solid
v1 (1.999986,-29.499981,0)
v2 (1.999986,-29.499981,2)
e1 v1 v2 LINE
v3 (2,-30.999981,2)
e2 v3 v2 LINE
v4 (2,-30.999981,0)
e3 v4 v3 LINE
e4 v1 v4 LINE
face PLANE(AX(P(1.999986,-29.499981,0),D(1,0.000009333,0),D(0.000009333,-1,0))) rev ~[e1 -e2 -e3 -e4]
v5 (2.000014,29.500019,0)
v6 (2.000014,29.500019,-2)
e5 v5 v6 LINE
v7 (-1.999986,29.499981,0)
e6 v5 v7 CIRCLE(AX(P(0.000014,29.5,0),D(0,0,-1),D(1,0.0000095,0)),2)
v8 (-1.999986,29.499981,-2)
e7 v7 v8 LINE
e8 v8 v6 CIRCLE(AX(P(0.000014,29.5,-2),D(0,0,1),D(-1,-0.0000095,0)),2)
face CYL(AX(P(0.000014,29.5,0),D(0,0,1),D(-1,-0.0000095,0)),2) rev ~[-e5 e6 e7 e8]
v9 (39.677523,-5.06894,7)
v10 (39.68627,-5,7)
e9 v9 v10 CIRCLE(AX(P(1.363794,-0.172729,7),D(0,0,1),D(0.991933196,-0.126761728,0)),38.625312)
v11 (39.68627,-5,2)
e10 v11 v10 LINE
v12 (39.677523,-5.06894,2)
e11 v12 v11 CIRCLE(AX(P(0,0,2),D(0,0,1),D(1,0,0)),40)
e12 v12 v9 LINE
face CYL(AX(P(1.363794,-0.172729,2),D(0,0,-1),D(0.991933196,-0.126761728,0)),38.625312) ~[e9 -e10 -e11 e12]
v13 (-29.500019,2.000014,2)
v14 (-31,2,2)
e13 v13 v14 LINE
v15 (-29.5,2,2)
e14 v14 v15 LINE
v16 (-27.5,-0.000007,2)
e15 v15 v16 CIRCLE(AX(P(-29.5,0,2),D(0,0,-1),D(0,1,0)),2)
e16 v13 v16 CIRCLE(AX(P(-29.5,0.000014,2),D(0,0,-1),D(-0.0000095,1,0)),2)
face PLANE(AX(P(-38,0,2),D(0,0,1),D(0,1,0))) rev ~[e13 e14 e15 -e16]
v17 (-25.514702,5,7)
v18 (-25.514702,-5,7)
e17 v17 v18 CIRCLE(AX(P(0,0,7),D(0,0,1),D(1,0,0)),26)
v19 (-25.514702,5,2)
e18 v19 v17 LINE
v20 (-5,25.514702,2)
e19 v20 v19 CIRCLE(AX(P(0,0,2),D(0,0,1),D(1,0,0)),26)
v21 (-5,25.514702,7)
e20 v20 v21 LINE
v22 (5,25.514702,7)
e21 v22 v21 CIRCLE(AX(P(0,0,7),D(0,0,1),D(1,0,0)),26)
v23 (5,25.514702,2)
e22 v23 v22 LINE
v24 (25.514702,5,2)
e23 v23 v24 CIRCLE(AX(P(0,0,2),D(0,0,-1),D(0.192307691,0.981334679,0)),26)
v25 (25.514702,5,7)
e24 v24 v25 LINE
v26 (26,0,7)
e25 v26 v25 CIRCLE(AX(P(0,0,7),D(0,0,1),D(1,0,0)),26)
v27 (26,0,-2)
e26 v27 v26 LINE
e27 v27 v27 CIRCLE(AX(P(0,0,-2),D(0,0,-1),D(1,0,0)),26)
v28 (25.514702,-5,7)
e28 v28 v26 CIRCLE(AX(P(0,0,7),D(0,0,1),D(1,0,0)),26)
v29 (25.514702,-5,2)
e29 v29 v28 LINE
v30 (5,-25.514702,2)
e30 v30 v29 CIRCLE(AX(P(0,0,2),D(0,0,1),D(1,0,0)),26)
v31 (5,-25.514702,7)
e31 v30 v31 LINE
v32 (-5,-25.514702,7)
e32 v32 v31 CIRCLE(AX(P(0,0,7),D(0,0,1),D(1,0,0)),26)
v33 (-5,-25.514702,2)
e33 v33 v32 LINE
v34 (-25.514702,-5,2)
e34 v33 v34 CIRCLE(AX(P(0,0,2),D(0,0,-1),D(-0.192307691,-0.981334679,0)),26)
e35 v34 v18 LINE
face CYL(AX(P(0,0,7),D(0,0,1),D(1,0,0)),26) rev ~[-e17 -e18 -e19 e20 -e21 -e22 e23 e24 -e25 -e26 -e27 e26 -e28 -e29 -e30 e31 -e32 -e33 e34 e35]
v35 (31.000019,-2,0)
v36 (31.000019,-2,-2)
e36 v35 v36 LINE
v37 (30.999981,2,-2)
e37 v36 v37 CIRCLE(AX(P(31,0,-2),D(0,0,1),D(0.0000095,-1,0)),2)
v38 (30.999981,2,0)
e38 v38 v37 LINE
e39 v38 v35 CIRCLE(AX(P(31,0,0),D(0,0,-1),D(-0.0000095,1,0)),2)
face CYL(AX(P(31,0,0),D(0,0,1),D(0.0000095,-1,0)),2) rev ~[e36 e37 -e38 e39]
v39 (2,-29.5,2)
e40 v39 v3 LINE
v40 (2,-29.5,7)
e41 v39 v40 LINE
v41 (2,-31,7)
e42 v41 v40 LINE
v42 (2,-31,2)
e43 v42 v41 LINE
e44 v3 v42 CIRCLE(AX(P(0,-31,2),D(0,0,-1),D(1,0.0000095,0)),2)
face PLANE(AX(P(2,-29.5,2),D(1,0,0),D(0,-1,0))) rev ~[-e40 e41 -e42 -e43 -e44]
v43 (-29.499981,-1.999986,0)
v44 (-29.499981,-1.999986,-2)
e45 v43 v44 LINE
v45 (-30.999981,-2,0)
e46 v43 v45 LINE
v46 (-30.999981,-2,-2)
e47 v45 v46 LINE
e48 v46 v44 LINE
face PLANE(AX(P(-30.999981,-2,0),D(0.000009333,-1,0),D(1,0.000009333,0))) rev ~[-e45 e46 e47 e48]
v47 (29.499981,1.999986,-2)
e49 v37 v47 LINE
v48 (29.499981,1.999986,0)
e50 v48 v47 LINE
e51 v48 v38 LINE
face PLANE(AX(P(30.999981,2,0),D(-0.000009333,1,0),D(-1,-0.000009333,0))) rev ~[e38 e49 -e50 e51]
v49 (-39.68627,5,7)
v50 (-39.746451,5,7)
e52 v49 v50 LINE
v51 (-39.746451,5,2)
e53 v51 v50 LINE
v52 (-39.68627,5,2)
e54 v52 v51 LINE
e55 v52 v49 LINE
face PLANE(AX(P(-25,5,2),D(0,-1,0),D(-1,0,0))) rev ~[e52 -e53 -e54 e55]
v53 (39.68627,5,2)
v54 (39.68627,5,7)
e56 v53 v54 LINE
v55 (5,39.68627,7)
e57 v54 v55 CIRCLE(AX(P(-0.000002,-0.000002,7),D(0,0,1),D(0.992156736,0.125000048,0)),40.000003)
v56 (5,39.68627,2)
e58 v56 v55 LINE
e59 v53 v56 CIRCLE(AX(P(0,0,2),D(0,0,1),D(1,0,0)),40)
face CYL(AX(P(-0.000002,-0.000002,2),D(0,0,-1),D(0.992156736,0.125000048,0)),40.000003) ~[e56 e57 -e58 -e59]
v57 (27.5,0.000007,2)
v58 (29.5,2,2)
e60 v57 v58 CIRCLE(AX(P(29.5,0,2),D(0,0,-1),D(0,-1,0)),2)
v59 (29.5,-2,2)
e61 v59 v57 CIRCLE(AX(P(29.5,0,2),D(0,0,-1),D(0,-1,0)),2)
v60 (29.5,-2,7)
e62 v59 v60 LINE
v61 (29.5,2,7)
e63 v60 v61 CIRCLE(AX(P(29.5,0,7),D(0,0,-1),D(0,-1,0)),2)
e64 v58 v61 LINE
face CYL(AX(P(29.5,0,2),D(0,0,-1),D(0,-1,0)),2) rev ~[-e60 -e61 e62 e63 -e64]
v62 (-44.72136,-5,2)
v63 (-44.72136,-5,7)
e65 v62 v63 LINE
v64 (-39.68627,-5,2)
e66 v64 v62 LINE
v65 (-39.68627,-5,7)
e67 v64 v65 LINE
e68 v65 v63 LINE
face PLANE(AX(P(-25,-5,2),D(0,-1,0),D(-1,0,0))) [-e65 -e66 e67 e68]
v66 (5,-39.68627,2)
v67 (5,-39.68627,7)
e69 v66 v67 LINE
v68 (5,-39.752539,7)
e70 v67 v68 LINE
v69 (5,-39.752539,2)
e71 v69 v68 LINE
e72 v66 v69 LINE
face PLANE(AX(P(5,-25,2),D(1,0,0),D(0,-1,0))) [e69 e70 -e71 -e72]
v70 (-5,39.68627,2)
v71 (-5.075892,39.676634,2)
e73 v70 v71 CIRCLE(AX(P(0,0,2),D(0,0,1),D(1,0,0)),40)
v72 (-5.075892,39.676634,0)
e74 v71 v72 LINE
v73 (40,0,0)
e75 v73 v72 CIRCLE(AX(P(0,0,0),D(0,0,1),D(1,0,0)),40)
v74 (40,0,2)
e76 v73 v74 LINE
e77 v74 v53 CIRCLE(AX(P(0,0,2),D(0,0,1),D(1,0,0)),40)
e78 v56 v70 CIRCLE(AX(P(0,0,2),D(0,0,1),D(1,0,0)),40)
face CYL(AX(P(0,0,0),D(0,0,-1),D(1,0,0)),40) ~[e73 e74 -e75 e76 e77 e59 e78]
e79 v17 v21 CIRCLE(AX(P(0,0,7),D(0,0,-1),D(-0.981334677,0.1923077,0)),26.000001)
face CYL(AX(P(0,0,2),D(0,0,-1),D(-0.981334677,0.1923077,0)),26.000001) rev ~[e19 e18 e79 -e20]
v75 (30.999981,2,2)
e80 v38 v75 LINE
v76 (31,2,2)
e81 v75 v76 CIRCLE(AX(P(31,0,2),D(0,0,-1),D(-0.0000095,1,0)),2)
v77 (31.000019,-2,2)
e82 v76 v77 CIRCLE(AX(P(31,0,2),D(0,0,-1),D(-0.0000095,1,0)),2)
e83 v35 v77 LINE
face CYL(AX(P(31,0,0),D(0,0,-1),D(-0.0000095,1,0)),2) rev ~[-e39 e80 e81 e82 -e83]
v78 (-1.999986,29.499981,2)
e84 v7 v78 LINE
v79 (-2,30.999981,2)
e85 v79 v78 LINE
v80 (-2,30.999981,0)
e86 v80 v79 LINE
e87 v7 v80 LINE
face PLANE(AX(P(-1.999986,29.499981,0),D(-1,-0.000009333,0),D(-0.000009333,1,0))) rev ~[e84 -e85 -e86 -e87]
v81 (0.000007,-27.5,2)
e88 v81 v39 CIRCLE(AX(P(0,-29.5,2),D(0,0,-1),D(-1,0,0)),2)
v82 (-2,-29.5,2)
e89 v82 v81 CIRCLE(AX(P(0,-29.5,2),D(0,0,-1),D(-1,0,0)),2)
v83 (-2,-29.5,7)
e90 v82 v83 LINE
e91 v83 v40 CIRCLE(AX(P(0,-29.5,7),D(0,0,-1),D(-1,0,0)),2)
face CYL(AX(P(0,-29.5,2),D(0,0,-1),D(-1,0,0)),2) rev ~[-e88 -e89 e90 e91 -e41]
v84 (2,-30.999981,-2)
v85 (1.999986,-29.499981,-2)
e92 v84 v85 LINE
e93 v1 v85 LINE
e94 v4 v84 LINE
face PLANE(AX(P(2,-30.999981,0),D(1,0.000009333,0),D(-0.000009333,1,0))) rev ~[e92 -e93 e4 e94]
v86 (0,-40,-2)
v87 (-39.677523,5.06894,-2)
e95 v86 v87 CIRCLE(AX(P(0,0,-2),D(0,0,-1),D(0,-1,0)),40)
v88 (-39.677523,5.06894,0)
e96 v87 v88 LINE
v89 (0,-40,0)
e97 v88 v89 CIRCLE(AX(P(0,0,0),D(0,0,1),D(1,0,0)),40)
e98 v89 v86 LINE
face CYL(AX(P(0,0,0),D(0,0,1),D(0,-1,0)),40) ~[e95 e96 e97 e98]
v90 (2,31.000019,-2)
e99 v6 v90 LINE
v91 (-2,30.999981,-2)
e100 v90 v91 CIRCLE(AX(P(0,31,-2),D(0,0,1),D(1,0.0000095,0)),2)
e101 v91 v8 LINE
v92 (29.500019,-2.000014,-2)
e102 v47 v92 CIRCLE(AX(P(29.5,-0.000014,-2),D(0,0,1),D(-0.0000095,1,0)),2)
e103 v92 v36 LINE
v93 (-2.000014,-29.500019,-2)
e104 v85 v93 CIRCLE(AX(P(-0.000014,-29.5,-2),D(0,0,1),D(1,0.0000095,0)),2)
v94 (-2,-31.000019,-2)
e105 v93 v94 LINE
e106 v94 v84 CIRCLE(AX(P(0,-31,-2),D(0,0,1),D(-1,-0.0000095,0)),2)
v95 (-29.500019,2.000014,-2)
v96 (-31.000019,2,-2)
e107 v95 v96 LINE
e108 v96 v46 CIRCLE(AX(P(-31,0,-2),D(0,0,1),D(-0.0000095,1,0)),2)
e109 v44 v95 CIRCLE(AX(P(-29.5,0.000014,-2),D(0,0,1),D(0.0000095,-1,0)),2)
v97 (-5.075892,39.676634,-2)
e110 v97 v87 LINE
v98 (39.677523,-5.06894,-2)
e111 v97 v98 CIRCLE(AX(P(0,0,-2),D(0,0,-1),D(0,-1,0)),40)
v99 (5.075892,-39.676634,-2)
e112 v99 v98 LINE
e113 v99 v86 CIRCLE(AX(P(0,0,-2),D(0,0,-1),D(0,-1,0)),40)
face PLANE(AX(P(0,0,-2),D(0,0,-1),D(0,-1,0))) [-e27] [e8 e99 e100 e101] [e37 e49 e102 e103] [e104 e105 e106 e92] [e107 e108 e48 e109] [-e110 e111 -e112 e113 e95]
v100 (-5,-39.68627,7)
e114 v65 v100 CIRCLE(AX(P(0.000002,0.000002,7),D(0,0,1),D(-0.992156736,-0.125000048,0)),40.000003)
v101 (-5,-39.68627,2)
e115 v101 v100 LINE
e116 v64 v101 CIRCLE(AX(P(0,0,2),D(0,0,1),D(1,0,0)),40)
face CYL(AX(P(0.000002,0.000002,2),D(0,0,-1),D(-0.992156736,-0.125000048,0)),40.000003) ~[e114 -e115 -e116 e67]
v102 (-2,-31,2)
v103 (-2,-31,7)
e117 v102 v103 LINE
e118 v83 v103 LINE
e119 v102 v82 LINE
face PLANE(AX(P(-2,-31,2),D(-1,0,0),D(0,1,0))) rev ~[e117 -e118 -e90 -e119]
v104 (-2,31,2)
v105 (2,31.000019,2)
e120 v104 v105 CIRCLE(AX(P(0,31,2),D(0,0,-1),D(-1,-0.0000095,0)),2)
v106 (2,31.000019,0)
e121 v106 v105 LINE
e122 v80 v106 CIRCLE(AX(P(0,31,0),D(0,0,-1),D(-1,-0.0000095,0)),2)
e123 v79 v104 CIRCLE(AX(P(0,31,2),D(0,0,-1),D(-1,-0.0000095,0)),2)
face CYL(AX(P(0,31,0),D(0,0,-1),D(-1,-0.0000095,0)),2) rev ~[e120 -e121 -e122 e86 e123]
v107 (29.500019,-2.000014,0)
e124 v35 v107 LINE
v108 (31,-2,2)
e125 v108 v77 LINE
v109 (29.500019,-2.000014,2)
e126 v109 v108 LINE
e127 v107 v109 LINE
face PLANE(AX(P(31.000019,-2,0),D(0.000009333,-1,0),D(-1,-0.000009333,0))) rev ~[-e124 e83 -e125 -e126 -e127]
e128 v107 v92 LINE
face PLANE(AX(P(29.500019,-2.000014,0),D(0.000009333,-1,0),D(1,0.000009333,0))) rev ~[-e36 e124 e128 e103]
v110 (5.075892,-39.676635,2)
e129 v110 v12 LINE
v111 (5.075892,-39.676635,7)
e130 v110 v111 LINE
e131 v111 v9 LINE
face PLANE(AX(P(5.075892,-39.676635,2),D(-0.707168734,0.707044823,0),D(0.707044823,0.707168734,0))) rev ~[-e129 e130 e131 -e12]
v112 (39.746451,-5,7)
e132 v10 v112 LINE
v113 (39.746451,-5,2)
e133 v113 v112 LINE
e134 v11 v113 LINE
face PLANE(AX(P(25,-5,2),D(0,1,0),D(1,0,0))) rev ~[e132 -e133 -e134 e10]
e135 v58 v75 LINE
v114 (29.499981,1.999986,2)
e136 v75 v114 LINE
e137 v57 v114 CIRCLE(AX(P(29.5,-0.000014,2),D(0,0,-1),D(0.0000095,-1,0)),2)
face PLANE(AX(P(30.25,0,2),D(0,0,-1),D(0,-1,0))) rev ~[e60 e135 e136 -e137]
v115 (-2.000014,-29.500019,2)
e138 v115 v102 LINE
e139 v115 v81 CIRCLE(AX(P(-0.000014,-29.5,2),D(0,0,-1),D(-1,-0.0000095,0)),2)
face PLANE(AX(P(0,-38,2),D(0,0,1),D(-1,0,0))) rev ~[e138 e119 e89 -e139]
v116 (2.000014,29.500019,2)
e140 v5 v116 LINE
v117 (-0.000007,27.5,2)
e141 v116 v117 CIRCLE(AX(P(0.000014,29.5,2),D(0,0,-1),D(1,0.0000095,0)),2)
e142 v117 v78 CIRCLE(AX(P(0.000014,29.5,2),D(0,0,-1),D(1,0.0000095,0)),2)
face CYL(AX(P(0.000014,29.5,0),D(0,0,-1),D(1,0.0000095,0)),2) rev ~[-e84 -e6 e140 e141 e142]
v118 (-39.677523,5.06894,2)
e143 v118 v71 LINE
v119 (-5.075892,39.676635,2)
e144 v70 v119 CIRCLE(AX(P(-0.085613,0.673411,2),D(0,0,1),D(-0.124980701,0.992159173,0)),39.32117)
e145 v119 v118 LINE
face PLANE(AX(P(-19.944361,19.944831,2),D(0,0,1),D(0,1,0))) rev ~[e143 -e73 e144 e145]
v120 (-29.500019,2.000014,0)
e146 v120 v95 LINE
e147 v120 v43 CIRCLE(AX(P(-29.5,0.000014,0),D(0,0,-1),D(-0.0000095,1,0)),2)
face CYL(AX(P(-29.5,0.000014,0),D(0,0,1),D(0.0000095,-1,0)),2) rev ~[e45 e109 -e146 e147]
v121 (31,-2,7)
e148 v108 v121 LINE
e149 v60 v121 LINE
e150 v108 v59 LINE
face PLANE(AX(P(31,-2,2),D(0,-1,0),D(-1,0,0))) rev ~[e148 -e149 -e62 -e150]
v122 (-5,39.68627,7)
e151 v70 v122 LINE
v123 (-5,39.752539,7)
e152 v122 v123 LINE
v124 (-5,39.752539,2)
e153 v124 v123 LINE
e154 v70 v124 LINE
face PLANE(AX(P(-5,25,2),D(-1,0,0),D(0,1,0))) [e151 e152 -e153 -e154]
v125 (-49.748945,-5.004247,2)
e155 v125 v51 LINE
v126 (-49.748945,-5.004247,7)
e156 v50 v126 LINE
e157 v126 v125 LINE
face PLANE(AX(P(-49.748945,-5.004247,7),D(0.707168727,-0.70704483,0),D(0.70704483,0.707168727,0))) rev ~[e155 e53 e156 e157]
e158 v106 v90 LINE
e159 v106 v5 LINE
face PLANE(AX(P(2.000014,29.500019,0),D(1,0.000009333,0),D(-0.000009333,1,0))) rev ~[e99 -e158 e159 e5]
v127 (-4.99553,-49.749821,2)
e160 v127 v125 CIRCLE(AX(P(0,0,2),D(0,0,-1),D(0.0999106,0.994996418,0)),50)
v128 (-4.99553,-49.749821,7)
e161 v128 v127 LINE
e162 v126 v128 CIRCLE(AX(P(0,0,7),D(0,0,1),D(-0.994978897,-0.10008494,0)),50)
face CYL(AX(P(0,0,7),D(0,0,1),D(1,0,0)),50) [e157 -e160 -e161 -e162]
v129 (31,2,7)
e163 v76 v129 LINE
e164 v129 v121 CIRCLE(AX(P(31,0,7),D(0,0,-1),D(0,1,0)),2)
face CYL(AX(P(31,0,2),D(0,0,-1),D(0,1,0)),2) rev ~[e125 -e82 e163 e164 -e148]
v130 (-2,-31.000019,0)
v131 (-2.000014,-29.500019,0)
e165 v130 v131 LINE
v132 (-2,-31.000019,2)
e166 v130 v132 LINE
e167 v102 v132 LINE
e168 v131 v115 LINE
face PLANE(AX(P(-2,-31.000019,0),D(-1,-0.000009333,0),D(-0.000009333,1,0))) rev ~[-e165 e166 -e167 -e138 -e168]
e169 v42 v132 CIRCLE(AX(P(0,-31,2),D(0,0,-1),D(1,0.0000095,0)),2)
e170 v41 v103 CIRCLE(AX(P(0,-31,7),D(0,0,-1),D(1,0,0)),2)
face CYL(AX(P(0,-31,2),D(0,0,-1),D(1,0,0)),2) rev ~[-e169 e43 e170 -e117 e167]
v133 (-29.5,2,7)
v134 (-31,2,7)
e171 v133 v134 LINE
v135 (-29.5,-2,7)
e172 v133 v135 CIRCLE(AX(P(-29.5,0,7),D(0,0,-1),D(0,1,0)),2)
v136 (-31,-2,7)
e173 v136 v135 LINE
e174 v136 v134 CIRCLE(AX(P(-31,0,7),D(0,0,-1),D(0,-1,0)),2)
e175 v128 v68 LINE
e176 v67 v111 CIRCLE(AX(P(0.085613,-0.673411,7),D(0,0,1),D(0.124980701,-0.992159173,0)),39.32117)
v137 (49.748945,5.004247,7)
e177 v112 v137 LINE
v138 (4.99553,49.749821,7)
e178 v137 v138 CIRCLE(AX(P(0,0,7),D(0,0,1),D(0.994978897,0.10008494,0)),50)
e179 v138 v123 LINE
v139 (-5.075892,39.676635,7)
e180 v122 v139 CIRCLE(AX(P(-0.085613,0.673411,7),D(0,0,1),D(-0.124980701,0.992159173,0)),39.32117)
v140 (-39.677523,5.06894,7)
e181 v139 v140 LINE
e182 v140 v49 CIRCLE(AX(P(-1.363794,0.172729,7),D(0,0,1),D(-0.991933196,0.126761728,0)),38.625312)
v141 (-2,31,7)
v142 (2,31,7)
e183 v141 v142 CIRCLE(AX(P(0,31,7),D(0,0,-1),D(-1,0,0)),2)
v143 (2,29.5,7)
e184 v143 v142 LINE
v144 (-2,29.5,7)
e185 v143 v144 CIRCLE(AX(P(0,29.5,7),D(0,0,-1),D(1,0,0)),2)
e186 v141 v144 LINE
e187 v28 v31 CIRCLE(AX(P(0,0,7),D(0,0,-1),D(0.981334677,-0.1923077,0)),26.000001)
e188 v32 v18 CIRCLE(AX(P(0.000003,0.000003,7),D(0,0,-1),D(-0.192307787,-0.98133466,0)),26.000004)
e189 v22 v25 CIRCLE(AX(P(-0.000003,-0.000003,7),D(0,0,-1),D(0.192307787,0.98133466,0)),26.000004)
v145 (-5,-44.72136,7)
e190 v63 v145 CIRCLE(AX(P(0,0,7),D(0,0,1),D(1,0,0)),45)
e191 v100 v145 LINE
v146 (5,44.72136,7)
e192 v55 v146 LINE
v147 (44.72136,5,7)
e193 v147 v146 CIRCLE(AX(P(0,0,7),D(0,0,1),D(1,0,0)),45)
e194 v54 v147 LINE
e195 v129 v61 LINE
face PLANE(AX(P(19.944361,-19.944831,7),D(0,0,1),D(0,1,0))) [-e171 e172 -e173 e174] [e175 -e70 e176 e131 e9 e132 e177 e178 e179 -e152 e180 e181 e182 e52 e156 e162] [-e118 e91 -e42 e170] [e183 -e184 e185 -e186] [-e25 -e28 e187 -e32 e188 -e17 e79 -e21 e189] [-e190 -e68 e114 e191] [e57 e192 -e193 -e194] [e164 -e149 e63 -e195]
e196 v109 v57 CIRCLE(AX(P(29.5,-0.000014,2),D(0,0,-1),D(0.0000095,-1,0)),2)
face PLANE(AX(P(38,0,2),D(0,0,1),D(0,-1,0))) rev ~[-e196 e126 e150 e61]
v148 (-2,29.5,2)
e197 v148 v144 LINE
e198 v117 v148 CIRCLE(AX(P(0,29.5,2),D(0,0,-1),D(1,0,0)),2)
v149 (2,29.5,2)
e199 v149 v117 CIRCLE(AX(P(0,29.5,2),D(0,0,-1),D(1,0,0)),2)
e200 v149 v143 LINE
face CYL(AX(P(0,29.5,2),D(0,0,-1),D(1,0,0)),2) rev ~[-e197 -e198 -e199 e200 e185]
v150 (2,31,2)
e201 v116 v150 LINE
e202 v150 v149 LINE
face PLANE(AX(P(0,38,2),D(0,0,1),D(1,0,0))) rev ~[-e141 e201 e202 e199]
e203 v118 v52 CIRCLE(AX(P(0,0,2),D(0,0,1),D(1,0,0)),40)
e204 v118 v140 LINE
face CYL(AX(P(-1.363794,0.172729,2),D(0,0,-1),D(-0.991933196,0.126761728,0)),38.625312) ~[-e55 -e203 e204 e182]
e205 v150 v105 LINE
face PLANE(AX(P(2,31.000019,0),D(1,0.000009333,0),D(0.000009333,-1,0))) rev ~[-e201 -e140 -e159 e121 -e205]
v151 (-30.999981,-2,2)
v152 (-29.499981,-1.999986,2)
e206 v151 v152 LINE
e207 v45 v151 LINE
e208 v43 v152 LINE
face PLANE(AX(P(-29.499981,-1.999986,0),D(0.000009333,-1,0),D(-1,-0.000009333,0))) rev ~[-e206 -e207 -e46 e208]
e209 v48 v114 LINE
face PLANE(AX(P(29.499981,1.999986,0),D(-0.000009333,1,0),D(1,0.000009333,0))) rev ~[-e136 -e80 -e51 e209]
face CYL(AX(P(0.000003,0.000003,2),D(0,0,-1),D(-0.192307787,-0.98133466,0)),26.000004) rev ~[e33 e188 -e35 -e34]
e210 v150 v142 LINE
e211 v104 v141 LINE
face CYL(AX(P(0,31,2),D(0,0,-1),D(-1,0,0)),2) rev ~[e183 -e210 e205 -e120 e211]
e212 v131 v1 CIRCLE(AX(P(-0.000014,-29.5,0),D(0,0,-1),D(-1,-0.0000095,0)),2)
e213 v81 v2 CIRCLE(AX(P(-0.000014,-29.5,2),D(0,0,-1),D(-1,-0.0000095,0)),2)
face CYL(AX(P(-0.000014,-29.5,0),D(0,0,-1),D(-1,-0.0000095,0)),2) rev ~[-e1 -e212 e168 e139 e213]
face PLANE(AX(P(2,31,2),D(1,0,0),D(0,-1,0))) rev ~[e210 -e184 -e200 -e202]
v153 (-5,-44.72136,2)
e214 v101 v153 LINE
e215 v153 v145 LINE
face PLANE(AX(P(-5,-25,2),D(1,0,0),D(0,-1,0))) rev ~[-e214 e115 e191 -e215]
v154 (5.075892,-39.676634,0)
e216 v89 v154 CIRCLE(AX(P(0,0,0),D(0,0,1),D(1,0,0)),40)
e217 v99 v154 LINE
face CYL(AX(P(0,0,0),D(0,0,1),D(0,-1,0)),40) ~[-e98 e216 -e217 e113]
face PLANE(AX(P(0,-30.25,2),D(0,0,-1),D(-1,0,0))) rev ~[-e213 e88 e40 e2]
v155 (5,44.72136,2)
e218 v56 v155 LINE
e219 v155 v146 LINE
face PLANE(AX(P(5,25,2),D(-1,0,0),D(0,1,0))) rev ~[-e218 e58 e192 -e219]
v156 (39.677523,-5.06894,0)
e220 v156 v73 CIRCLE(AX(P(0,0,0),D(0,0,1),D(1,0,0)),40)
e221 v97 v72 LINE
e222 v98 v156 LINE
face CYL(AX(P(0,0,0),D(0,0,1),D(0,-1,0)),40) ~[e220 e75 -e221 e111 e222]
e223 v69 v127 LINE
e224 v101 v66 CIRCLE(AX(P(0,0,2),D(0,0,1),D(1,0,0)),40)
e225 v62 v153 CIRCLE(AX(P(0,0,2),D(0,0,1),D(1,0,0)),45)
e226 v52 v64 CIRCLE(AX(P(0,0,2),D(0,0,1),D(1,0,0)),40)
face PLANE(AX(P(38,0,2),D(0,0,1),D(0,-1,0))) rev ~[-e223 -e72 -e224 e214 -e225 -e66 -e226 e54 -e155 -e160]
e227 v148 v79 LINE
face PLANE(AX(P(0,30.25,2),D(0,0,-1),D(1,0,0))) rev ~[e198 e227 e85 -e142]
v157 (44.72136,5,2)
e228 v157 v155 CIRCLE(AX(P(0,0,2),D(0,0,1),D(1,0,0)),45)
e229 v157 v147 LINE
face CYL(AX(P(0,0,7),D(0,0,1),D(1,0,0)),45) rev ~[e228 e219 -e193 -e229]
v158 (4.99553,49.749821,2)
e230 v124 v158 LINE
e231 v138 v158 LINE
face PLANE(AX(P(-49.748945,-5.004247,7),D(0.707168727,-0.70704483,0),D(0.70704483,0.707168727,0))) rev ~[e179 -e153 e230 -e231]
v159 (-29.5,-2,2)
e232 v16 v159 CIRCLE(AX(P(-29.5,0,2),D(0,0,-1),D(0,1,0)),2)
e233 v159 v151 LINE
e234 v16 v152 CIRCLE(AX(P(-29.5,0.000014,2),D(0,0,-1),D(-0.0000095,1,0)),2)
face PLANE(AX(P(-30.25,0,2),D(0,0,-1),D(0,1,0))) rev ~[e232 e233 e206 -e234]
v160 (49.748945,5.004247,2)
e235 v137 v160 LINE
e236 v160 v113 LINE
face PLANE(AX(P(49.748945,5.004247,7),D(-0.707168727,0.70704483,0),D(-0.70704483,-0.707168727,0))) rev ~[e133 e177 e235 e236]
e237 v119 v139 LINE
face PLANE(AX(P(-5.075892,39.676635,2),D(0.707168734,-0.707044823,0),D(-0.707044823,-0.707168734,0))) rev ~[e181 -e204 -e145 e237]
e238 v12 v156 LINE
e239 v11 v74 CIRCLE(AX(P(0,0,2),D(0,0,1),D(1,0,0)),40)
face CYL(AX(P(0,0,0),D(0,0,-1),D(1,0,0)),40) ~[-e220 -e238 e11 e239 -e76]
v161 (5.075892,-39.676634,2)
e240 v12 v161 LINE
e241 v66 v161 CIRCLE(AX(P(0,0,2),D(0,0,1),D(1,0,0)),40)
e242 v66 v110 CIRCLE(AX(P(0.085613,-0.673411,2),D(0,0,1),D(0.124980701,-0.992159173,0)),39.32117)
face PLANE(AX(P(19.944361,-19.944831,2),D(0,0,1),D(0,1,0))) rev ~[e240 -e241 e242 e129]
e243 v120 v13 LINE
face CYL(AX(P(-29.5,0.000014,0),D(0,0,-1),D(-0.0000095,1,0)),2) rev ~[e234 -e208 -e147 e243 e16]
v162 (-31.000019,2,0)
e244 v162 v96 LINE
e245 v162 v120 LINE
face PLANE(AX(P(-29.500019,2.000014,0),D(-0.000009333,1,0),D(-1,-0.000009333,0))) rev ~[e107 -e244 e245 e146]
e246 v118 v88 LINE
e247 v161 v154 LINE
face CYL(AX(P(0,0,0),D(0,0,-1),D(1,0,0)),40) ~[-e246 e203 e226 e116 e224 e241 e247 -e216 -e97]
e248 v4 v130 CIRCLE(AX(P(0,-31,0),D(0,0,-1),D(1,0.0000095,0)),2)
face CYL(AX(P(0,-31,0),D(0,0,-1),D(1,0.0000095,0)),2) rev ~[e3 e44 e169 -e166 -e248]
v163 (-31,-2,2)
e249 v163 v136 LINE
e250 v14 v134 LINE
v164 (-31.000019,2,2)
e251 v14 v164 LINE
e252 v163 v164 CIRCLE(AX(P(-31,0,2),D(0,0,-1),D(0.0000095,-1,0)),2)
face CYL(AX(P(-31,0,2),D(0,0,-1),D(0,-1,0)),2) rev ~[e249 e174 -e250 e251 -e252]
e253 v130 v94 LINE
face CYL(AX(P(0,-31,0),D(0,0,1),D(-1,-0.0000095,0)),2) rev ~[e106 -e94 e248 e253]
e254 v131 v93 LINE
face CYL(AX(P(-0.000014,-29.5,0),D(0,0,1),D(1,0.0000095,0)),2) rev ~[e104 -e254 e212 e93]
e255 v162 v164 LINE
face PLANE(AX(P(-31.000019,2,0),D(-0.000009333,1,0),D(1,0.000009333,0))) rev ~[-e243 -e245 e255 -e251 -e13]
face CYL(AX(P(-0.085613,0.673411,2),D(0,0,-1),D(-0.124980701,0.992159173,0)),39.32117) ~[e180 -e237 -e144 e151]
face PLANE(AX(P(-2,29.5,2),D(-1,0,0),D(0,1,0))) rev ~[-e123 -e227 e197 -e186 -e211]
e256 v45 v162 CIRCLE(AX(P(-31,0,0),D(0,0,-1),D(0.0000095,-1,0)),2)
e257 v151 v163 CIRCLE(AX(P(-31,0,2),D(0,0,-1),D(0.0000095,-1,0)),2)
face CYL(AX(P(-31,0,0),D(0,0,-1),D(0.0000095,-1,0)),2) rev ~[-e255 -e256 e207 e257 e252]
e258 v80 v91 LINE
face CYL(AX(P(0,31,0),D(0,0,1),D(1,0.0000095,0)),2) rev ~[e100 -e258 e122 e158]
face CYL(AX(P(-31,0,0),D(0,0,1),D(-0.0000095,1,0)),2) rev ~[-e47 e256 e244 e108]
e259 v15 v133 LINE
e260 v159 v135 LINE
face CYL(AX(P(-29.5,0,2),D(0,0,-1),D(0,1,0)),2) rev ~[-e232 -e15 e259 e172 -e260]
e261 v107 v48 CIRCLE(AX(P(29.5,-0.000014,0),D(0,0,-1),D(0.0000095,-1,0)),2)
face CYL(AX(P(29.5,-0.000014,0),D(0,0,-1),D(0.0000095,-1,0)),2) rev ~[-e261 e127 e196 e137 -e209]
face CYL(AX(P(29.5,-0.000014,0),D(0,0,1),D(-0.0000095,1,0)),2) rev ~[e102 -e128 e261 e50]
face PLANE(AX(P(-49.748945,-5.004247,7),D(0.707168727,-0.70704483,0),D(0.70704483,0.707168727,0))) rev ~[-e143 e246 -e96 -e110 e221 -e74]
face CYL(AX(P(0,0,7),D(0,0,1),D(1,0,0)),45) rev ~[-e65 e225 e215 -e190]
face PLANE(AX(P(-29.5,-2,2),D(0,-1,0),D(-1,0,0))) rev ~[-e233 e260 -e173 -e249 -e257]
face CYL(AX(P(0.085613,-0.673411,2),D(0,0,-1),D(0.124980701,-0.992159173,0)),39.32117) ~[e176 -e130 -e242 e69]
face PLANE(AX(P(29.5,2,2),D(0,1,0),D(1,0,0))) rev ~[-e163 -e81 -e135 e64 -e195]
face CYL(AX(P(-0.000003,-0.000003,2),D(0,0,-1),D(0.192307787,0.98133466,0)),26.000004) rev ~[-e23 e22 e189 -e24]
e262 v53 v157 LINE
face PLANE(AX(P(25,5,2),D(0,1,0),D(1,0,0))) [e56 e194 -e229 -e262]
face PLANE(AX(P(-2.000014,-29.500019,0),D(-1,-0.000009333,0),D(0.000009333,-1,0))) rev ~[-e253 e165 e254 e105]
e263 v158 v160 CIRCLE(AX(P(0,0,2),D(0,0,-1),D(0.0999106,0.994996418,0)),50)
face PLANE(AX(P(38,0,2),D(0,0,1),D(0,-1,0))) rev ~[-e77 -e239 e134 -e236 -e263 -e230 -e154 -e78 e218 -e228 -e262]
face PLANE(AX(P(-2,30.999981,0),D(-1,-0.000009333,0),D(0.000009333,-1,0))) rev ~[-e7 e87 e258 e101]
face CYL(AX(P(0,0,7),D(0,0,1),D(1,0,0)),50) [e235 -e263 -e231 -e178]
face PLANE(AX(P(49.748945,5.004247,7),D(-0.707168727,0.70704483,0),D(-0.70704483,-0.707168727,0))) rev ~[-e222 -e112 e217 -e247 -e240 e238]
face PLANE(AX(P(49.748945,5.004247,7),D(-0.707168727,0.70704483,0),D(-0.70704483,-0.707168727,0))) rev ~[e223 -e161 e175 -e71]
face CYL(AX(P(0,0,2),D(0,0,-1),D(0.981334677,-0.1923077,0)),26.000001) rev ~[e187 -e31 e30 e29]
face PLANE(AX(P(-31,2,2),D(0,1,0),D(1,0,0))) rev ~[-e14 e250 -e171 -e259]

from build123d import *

# Parameters (mm, degrees)
SKETCH_R               = 40
PAD_DEPTH              = 2
SKETCH001_R            = 26
POCKET_DEPTH           = 5
POCKET001_DEPTH        = 5
POLARPATTERN_COUNT     = 4
POLARPATTERN_FACE2_R   = 40
POLARPATTERN_FACE2_R_2 = 26
PAD001_DEPTH           = 2
SKETCH003_W            = 10
SKETCH003_H            = 26
PAD002_DEPTH           = 5
POLARPATTERN001_COUNT  = 4
POCKET002_DEPTH        = 294.061547
POLARPATTERN002_COUNT  = 4
SKETCH005_R            = 26
POCKET003_DEPTH        = 9.001
SKETCH006_R            = 50
SKETCH006_R_2          = 45
PAD003_DEPTH           = 5
SKETCH007_R            = 86.673215
SKETCH007_R_2          = 50
POCKET004_DEPTH        = 9.001
POCKET005_DEPTH        = 292.41589
POLARPATTERN003_COUNT  = 2
PAD004_DEPTH           = 5
PAD005_DEPTH           = 5
PAD006_DEPTH           = 5
PAD007_DEPTH           = 5


with BuildPart() as part:
    # Sketch → Pad (new body)
    with BuildSketch(Plane.XY):
        Circle(SKETCH_R)
    extrude(amount=PAD_DEPTH)

    # Sketch001 (on Face3 of Pad) → Pocket (cut)
    with BuildSketch(Plane.XY.offset(2)):
        Circle(SKETCH001_R)
    extrude(amount=-POCKET_DEPTH, mode=Mode.SUBTRACT)

    # Sketch002 (on Face2 of Pocket) → Pocket001 (cut)
    with BuildSketch(Plane(origin=(0, 0, 0), x_dir=(1, 0, 0), z_dir=(0, 0, -1))):
        with BuildLine():
            ThreePointArc((2, 30.999981), (1.9e-05, 33), (-2, 31.000019))
            Line((-2, 31.000019), (-2.000014, 29.500019))
            ThreePointArc((-2.000014, 29.500019), (-3.4e-05, 27.5), (1.999986, 29.499981))
            Line((1.999986, 29.499981), (2, 30.999981))
        make_face()
    pocket001 = extrude(amount=-POCKET001_DEPTH, mode=Mode.SUBTRACT)

    # PolarPattern: Pocket001 ×4 about axis
    polarpattern_axis = Axis((0, 0, 0), (0, 0, -1))
    for i in range(1, POLARPATTERN_COUNT):
        add(pocket001.rotate(polarpattern_axis, i * 360 / POLARPATTERN_COUNT), mode=Mode.SUBTRACT)

    # PolarPattern Face2 → Pad001 (add)
    with BuildSketch(Plane(origin=(0, 0, 0), x_dir=(0, -1, 0), z_dir=(0, 0, -1))):
        Circle(POLARPATTERN_FACE2_R)
        with BuildLine():
            Line((30.999981, -2), (29.499981, -1.999986))
            ThreePointArc((29.499981, -1.999986), (27.5, 3.4e-05), (29.500019, 2.000014))
            Line((29.500019, 2.000014), (31.000019, 2))
            ThreePointArc((31.000019, 2), (33, -1.9e-05), (30.999981, -2))
        make_face(mode=Mode.SUBTRACT)
        with BuildLine():
            Line((-2, -30.999981), (-1.999986, -29.499981))
            ThreePointArc((-1.999986, -29.499981), (3.4e-05, -27.5), (2.000014, -29.500019))
            Line((2.000014, -29.500019), (2, -31.000019))
            ThreePointArc((2, -31.000019), (-1.9e-05, -33), (-2, -30.999981))
        make_face(mode=Mode.SUBTRACT)
        with BuildLine():
            Line((2, 30.999981), (1.999986, 29.499981))
            ThreePointArc((1.999986, 29.499981), (-3.4e-05, 27.5), (-2.000014, 29.500019))
            Line((-2.000014, 29.500019), (-2, 31.000019))
            ThreePointArc((-2, 31.000019), (1.9e-05, 33), (2, 30.999981))
        make_face(mode=Mode.SUBTRACT)
        Circle(POLARPATTERN_FACE2_R_2, mode=Mode.SUBTRACT)
        with BuildLine():
            Line((-30.999981, 2), (-29.499981, 1.999986))
            ThreePointArc((-29.499981, 1.999986), (-27.5, -3.4e-05), (-29.500019, -2.000014))
            Line((-29.500019, -2.000014), (-31.000019, -2))
            ThreePointArc((-31.000019, -2), (-33, 1.9e-05), (-30.999981, 2))
        make_face(mode=Mode.SUBTRACT)
    extrude(amount=PAD001_DEPTH)

    # Sketch003 (on Face3 of Pad001) → Pad002 (join)
    with BuildSketch(Plane.XY.offset(2)):
        with Locations((0, 38)):
            Rectangle(SKETCH003_W, SKETCH003_H)
    pad002 = extrude(amount=PAD002_DEPTH)

    # PolarPattern001: Pad002 ×4 about axis
    polarpattern001_axis = Axis((0, 0, 2), (0, 0, 1))
    for i in range(1, POLARPATTERN001_COUNT):
        add(pad002.rotate(polarpattern001_axis, i * 360 / POLARPATTERN001_COUNT))

    # Sketch004 (on Face71 of PolarPattern001) → Pocket002 (cut, through all)
    with BuildSketch(Plane(origin=(0, 0, 2), x_dir=(1, 0, 0), z_dir=(0, 0, -1))):
        with BuildLine():
            ThreePointArc((-2, -31), (0, -33), (2, -31))
            Line((2, -31), (2, -29.5))
            ThreePointArc((2, -29.5), (0, -27.5), (-2, -29.5))
            Line((-2, -29.5), (-2, -31))
        make_face()
    pocket002 = extrude(amount=-POCKET002_DEPTH, mode=Mode.SUBTRACT)

    # PolarPattern002: Pocket002 ×4 about axis
    polarpattern002_axis = Axis((0, 0, 2), (0, 0, -1))
    for i in range(1, POLARPATTERN002_COUNT):
        add(pocket002.rotate(polarpattern002_axis, i * 360 / POLARPATTERN002_COUNT), mode=Mode.SUBTRACT)

    # Sketch005 (on Face35 of PolarPattern002) → Pocket003 (cut, through all)
    with BuildSketch(Plane.XY.offset(7)):
        Circle(SKETCH005_R)
    extrude(amount=-POCKET003_DEPTH, mode=Mode.SUBTRACT)

    # Sketch006 (on Face33 of Pocket003) → Pad003 (join)
    with BuildSketch(Plane.XY.offset(7)):
        Circle(SKETCH006_R)
        Circle(SKETCH006_R_2, mode=Mode.SUBTRACT)
    extrude(amount=-PAD003_DEPTH)

    # Sketch007 (on Face90 of Pad003) → Pocket004 (cut, through all)
    with BuildSketch(Plane.XY.offset(7)):
        Circle(SKETCH007_R)
        Circle(SKETCH007_R_2, mode=Mode.SUBTRACT)
    extrude(amount=-POCKET004_DEPTH, mode=Mode.SUBTRACT)

    # Sketch008 (on Face85 of Pocket004) → Pocket005 (cut, through all)
    with BuildSketch(Plane.XY.offset(7)):
        Polygon((-49.748945, -5.004247), (4.99553, 49.749821), (0, 75.641434), (-75.943077, 0), align=None)
    pocket005 = extrude(amount=-POCKET005_DEPTH, mode=Mode.SUBTRACT)

    # PolarPattern003: Pocket005 ×2 about axis
    polarpattern003_axis = Axis((0, 0, 7), (0, 0, 1))
    for i in range(1, POLARPATTERN003_COUNT):
        add(pocket005.rotate(polarpattern003_axis, i * 360 / POLARPATTERN003_COUNT), mode=Mode.SUBTRACT)

    # PolarPattern003 Face4 → Pad004 (add)
    with BuildSketch(Plane(origin=(-19.860277, 19.864229, 2), x_dir=(0, 1, 0), z_dir=(0, 0, 1))):
        with BuildLine():
            Line((5.650473, -14.860277), (19.822041, -14.860277))
            ThreePointArc((19.822041, -14.860277), (19.817242, -14.822329), (19.812406, -14.784385))
            Line((19.812406, -14.784385), (-14.795289, 19.817246))
            ThreePointArc((-14.795289, 19.817246), (-14.829757, 19.821635), (-14.864229, 19.825993))
            Line((-14.864229, 19.825993), (-14.864229, 5.654425))
            ThreePointArc((-14.864229, 5.654425), (-1.479452, -1.475501), (5.650473, -14.860277))
        make_face()
    extrude(amount=PAD004_DEPTH)

    # Pad004 Face44 → Pad005 (add)
    with BuildSketch(Plane(origin=(-22.197408, -22.197408, 2), x_dir=(0, 1, 0), z_dir=(0, 0, 1))):
        with BuildLine():
            Line((17.197408, 3.317294), (17.197408, 17.488862))
            ThreePointArc((17.197408, 17.488862), (-6.086863, 6.086863), (-17.488862, -17.197408))
            Line((-17.488862, -17.197408), (-3.317294, -17.197408))
            ThreePointArc((-3.317294, -17.197408), (3.812632, -3.812632), (17.197408, 3.317294))
        make_face()
    extrude(amount=PAD005_DEPTH)

    # Pad005 Face6 → Pad006 (add)
    with BuildSketch(Plane(origin=(22.197408, 22.197408, 2), x_dir=(0, 1, 0), z_dir=(0, 0, 1))):
        with BuildLine():
            Line((-17.197408, -3.317294), (-17.197408, -17.488862))
            ThreePointArc((-17.197408, -17.488862), (6.086863, -6.086863), (17.488862, 17.197408))
            Line((17.488862, 17.197408), (3.317294, 17.197408))
            ThreePointArc((3.317294, 17.197408), (-3.812632, 3.812632), (-17.197408, -3.317294))
        make_face()
    extrude(amount=PAD006_DEPTH)

    # Pad006 Face24 → Pad007 (add)
    with BuildSketch(Plane(origin=(19.860277, -19.864229, 2), x_dir=(0, 1, 0), z_dir=(0, 0, 1))):
        with BuildLine():
            Line((-5.650473, 14.860277), (-19.822041, 14.860277))
            ThreePointArc((-19.822041, 14.860277), (-19.817242, 14.822329), (-19.812406, 14.784385))
            Line((-19.812406, 14.784385), (14.795289, -19.817246))
            ThreePointArc((14.795289, -19.817246), (14.829757, -19.821635), (14.864229, -19.825993))
            Line((14.864229, -19.825993), (14.864229, -5.654425))
            ThreePointArc((14.864229, -5.654425), (1.479452, 1.475501), (-5.650473, 14.860277))
        make_face()
    extrude(amount=PAD007_DEPTH)


solid = part.part
